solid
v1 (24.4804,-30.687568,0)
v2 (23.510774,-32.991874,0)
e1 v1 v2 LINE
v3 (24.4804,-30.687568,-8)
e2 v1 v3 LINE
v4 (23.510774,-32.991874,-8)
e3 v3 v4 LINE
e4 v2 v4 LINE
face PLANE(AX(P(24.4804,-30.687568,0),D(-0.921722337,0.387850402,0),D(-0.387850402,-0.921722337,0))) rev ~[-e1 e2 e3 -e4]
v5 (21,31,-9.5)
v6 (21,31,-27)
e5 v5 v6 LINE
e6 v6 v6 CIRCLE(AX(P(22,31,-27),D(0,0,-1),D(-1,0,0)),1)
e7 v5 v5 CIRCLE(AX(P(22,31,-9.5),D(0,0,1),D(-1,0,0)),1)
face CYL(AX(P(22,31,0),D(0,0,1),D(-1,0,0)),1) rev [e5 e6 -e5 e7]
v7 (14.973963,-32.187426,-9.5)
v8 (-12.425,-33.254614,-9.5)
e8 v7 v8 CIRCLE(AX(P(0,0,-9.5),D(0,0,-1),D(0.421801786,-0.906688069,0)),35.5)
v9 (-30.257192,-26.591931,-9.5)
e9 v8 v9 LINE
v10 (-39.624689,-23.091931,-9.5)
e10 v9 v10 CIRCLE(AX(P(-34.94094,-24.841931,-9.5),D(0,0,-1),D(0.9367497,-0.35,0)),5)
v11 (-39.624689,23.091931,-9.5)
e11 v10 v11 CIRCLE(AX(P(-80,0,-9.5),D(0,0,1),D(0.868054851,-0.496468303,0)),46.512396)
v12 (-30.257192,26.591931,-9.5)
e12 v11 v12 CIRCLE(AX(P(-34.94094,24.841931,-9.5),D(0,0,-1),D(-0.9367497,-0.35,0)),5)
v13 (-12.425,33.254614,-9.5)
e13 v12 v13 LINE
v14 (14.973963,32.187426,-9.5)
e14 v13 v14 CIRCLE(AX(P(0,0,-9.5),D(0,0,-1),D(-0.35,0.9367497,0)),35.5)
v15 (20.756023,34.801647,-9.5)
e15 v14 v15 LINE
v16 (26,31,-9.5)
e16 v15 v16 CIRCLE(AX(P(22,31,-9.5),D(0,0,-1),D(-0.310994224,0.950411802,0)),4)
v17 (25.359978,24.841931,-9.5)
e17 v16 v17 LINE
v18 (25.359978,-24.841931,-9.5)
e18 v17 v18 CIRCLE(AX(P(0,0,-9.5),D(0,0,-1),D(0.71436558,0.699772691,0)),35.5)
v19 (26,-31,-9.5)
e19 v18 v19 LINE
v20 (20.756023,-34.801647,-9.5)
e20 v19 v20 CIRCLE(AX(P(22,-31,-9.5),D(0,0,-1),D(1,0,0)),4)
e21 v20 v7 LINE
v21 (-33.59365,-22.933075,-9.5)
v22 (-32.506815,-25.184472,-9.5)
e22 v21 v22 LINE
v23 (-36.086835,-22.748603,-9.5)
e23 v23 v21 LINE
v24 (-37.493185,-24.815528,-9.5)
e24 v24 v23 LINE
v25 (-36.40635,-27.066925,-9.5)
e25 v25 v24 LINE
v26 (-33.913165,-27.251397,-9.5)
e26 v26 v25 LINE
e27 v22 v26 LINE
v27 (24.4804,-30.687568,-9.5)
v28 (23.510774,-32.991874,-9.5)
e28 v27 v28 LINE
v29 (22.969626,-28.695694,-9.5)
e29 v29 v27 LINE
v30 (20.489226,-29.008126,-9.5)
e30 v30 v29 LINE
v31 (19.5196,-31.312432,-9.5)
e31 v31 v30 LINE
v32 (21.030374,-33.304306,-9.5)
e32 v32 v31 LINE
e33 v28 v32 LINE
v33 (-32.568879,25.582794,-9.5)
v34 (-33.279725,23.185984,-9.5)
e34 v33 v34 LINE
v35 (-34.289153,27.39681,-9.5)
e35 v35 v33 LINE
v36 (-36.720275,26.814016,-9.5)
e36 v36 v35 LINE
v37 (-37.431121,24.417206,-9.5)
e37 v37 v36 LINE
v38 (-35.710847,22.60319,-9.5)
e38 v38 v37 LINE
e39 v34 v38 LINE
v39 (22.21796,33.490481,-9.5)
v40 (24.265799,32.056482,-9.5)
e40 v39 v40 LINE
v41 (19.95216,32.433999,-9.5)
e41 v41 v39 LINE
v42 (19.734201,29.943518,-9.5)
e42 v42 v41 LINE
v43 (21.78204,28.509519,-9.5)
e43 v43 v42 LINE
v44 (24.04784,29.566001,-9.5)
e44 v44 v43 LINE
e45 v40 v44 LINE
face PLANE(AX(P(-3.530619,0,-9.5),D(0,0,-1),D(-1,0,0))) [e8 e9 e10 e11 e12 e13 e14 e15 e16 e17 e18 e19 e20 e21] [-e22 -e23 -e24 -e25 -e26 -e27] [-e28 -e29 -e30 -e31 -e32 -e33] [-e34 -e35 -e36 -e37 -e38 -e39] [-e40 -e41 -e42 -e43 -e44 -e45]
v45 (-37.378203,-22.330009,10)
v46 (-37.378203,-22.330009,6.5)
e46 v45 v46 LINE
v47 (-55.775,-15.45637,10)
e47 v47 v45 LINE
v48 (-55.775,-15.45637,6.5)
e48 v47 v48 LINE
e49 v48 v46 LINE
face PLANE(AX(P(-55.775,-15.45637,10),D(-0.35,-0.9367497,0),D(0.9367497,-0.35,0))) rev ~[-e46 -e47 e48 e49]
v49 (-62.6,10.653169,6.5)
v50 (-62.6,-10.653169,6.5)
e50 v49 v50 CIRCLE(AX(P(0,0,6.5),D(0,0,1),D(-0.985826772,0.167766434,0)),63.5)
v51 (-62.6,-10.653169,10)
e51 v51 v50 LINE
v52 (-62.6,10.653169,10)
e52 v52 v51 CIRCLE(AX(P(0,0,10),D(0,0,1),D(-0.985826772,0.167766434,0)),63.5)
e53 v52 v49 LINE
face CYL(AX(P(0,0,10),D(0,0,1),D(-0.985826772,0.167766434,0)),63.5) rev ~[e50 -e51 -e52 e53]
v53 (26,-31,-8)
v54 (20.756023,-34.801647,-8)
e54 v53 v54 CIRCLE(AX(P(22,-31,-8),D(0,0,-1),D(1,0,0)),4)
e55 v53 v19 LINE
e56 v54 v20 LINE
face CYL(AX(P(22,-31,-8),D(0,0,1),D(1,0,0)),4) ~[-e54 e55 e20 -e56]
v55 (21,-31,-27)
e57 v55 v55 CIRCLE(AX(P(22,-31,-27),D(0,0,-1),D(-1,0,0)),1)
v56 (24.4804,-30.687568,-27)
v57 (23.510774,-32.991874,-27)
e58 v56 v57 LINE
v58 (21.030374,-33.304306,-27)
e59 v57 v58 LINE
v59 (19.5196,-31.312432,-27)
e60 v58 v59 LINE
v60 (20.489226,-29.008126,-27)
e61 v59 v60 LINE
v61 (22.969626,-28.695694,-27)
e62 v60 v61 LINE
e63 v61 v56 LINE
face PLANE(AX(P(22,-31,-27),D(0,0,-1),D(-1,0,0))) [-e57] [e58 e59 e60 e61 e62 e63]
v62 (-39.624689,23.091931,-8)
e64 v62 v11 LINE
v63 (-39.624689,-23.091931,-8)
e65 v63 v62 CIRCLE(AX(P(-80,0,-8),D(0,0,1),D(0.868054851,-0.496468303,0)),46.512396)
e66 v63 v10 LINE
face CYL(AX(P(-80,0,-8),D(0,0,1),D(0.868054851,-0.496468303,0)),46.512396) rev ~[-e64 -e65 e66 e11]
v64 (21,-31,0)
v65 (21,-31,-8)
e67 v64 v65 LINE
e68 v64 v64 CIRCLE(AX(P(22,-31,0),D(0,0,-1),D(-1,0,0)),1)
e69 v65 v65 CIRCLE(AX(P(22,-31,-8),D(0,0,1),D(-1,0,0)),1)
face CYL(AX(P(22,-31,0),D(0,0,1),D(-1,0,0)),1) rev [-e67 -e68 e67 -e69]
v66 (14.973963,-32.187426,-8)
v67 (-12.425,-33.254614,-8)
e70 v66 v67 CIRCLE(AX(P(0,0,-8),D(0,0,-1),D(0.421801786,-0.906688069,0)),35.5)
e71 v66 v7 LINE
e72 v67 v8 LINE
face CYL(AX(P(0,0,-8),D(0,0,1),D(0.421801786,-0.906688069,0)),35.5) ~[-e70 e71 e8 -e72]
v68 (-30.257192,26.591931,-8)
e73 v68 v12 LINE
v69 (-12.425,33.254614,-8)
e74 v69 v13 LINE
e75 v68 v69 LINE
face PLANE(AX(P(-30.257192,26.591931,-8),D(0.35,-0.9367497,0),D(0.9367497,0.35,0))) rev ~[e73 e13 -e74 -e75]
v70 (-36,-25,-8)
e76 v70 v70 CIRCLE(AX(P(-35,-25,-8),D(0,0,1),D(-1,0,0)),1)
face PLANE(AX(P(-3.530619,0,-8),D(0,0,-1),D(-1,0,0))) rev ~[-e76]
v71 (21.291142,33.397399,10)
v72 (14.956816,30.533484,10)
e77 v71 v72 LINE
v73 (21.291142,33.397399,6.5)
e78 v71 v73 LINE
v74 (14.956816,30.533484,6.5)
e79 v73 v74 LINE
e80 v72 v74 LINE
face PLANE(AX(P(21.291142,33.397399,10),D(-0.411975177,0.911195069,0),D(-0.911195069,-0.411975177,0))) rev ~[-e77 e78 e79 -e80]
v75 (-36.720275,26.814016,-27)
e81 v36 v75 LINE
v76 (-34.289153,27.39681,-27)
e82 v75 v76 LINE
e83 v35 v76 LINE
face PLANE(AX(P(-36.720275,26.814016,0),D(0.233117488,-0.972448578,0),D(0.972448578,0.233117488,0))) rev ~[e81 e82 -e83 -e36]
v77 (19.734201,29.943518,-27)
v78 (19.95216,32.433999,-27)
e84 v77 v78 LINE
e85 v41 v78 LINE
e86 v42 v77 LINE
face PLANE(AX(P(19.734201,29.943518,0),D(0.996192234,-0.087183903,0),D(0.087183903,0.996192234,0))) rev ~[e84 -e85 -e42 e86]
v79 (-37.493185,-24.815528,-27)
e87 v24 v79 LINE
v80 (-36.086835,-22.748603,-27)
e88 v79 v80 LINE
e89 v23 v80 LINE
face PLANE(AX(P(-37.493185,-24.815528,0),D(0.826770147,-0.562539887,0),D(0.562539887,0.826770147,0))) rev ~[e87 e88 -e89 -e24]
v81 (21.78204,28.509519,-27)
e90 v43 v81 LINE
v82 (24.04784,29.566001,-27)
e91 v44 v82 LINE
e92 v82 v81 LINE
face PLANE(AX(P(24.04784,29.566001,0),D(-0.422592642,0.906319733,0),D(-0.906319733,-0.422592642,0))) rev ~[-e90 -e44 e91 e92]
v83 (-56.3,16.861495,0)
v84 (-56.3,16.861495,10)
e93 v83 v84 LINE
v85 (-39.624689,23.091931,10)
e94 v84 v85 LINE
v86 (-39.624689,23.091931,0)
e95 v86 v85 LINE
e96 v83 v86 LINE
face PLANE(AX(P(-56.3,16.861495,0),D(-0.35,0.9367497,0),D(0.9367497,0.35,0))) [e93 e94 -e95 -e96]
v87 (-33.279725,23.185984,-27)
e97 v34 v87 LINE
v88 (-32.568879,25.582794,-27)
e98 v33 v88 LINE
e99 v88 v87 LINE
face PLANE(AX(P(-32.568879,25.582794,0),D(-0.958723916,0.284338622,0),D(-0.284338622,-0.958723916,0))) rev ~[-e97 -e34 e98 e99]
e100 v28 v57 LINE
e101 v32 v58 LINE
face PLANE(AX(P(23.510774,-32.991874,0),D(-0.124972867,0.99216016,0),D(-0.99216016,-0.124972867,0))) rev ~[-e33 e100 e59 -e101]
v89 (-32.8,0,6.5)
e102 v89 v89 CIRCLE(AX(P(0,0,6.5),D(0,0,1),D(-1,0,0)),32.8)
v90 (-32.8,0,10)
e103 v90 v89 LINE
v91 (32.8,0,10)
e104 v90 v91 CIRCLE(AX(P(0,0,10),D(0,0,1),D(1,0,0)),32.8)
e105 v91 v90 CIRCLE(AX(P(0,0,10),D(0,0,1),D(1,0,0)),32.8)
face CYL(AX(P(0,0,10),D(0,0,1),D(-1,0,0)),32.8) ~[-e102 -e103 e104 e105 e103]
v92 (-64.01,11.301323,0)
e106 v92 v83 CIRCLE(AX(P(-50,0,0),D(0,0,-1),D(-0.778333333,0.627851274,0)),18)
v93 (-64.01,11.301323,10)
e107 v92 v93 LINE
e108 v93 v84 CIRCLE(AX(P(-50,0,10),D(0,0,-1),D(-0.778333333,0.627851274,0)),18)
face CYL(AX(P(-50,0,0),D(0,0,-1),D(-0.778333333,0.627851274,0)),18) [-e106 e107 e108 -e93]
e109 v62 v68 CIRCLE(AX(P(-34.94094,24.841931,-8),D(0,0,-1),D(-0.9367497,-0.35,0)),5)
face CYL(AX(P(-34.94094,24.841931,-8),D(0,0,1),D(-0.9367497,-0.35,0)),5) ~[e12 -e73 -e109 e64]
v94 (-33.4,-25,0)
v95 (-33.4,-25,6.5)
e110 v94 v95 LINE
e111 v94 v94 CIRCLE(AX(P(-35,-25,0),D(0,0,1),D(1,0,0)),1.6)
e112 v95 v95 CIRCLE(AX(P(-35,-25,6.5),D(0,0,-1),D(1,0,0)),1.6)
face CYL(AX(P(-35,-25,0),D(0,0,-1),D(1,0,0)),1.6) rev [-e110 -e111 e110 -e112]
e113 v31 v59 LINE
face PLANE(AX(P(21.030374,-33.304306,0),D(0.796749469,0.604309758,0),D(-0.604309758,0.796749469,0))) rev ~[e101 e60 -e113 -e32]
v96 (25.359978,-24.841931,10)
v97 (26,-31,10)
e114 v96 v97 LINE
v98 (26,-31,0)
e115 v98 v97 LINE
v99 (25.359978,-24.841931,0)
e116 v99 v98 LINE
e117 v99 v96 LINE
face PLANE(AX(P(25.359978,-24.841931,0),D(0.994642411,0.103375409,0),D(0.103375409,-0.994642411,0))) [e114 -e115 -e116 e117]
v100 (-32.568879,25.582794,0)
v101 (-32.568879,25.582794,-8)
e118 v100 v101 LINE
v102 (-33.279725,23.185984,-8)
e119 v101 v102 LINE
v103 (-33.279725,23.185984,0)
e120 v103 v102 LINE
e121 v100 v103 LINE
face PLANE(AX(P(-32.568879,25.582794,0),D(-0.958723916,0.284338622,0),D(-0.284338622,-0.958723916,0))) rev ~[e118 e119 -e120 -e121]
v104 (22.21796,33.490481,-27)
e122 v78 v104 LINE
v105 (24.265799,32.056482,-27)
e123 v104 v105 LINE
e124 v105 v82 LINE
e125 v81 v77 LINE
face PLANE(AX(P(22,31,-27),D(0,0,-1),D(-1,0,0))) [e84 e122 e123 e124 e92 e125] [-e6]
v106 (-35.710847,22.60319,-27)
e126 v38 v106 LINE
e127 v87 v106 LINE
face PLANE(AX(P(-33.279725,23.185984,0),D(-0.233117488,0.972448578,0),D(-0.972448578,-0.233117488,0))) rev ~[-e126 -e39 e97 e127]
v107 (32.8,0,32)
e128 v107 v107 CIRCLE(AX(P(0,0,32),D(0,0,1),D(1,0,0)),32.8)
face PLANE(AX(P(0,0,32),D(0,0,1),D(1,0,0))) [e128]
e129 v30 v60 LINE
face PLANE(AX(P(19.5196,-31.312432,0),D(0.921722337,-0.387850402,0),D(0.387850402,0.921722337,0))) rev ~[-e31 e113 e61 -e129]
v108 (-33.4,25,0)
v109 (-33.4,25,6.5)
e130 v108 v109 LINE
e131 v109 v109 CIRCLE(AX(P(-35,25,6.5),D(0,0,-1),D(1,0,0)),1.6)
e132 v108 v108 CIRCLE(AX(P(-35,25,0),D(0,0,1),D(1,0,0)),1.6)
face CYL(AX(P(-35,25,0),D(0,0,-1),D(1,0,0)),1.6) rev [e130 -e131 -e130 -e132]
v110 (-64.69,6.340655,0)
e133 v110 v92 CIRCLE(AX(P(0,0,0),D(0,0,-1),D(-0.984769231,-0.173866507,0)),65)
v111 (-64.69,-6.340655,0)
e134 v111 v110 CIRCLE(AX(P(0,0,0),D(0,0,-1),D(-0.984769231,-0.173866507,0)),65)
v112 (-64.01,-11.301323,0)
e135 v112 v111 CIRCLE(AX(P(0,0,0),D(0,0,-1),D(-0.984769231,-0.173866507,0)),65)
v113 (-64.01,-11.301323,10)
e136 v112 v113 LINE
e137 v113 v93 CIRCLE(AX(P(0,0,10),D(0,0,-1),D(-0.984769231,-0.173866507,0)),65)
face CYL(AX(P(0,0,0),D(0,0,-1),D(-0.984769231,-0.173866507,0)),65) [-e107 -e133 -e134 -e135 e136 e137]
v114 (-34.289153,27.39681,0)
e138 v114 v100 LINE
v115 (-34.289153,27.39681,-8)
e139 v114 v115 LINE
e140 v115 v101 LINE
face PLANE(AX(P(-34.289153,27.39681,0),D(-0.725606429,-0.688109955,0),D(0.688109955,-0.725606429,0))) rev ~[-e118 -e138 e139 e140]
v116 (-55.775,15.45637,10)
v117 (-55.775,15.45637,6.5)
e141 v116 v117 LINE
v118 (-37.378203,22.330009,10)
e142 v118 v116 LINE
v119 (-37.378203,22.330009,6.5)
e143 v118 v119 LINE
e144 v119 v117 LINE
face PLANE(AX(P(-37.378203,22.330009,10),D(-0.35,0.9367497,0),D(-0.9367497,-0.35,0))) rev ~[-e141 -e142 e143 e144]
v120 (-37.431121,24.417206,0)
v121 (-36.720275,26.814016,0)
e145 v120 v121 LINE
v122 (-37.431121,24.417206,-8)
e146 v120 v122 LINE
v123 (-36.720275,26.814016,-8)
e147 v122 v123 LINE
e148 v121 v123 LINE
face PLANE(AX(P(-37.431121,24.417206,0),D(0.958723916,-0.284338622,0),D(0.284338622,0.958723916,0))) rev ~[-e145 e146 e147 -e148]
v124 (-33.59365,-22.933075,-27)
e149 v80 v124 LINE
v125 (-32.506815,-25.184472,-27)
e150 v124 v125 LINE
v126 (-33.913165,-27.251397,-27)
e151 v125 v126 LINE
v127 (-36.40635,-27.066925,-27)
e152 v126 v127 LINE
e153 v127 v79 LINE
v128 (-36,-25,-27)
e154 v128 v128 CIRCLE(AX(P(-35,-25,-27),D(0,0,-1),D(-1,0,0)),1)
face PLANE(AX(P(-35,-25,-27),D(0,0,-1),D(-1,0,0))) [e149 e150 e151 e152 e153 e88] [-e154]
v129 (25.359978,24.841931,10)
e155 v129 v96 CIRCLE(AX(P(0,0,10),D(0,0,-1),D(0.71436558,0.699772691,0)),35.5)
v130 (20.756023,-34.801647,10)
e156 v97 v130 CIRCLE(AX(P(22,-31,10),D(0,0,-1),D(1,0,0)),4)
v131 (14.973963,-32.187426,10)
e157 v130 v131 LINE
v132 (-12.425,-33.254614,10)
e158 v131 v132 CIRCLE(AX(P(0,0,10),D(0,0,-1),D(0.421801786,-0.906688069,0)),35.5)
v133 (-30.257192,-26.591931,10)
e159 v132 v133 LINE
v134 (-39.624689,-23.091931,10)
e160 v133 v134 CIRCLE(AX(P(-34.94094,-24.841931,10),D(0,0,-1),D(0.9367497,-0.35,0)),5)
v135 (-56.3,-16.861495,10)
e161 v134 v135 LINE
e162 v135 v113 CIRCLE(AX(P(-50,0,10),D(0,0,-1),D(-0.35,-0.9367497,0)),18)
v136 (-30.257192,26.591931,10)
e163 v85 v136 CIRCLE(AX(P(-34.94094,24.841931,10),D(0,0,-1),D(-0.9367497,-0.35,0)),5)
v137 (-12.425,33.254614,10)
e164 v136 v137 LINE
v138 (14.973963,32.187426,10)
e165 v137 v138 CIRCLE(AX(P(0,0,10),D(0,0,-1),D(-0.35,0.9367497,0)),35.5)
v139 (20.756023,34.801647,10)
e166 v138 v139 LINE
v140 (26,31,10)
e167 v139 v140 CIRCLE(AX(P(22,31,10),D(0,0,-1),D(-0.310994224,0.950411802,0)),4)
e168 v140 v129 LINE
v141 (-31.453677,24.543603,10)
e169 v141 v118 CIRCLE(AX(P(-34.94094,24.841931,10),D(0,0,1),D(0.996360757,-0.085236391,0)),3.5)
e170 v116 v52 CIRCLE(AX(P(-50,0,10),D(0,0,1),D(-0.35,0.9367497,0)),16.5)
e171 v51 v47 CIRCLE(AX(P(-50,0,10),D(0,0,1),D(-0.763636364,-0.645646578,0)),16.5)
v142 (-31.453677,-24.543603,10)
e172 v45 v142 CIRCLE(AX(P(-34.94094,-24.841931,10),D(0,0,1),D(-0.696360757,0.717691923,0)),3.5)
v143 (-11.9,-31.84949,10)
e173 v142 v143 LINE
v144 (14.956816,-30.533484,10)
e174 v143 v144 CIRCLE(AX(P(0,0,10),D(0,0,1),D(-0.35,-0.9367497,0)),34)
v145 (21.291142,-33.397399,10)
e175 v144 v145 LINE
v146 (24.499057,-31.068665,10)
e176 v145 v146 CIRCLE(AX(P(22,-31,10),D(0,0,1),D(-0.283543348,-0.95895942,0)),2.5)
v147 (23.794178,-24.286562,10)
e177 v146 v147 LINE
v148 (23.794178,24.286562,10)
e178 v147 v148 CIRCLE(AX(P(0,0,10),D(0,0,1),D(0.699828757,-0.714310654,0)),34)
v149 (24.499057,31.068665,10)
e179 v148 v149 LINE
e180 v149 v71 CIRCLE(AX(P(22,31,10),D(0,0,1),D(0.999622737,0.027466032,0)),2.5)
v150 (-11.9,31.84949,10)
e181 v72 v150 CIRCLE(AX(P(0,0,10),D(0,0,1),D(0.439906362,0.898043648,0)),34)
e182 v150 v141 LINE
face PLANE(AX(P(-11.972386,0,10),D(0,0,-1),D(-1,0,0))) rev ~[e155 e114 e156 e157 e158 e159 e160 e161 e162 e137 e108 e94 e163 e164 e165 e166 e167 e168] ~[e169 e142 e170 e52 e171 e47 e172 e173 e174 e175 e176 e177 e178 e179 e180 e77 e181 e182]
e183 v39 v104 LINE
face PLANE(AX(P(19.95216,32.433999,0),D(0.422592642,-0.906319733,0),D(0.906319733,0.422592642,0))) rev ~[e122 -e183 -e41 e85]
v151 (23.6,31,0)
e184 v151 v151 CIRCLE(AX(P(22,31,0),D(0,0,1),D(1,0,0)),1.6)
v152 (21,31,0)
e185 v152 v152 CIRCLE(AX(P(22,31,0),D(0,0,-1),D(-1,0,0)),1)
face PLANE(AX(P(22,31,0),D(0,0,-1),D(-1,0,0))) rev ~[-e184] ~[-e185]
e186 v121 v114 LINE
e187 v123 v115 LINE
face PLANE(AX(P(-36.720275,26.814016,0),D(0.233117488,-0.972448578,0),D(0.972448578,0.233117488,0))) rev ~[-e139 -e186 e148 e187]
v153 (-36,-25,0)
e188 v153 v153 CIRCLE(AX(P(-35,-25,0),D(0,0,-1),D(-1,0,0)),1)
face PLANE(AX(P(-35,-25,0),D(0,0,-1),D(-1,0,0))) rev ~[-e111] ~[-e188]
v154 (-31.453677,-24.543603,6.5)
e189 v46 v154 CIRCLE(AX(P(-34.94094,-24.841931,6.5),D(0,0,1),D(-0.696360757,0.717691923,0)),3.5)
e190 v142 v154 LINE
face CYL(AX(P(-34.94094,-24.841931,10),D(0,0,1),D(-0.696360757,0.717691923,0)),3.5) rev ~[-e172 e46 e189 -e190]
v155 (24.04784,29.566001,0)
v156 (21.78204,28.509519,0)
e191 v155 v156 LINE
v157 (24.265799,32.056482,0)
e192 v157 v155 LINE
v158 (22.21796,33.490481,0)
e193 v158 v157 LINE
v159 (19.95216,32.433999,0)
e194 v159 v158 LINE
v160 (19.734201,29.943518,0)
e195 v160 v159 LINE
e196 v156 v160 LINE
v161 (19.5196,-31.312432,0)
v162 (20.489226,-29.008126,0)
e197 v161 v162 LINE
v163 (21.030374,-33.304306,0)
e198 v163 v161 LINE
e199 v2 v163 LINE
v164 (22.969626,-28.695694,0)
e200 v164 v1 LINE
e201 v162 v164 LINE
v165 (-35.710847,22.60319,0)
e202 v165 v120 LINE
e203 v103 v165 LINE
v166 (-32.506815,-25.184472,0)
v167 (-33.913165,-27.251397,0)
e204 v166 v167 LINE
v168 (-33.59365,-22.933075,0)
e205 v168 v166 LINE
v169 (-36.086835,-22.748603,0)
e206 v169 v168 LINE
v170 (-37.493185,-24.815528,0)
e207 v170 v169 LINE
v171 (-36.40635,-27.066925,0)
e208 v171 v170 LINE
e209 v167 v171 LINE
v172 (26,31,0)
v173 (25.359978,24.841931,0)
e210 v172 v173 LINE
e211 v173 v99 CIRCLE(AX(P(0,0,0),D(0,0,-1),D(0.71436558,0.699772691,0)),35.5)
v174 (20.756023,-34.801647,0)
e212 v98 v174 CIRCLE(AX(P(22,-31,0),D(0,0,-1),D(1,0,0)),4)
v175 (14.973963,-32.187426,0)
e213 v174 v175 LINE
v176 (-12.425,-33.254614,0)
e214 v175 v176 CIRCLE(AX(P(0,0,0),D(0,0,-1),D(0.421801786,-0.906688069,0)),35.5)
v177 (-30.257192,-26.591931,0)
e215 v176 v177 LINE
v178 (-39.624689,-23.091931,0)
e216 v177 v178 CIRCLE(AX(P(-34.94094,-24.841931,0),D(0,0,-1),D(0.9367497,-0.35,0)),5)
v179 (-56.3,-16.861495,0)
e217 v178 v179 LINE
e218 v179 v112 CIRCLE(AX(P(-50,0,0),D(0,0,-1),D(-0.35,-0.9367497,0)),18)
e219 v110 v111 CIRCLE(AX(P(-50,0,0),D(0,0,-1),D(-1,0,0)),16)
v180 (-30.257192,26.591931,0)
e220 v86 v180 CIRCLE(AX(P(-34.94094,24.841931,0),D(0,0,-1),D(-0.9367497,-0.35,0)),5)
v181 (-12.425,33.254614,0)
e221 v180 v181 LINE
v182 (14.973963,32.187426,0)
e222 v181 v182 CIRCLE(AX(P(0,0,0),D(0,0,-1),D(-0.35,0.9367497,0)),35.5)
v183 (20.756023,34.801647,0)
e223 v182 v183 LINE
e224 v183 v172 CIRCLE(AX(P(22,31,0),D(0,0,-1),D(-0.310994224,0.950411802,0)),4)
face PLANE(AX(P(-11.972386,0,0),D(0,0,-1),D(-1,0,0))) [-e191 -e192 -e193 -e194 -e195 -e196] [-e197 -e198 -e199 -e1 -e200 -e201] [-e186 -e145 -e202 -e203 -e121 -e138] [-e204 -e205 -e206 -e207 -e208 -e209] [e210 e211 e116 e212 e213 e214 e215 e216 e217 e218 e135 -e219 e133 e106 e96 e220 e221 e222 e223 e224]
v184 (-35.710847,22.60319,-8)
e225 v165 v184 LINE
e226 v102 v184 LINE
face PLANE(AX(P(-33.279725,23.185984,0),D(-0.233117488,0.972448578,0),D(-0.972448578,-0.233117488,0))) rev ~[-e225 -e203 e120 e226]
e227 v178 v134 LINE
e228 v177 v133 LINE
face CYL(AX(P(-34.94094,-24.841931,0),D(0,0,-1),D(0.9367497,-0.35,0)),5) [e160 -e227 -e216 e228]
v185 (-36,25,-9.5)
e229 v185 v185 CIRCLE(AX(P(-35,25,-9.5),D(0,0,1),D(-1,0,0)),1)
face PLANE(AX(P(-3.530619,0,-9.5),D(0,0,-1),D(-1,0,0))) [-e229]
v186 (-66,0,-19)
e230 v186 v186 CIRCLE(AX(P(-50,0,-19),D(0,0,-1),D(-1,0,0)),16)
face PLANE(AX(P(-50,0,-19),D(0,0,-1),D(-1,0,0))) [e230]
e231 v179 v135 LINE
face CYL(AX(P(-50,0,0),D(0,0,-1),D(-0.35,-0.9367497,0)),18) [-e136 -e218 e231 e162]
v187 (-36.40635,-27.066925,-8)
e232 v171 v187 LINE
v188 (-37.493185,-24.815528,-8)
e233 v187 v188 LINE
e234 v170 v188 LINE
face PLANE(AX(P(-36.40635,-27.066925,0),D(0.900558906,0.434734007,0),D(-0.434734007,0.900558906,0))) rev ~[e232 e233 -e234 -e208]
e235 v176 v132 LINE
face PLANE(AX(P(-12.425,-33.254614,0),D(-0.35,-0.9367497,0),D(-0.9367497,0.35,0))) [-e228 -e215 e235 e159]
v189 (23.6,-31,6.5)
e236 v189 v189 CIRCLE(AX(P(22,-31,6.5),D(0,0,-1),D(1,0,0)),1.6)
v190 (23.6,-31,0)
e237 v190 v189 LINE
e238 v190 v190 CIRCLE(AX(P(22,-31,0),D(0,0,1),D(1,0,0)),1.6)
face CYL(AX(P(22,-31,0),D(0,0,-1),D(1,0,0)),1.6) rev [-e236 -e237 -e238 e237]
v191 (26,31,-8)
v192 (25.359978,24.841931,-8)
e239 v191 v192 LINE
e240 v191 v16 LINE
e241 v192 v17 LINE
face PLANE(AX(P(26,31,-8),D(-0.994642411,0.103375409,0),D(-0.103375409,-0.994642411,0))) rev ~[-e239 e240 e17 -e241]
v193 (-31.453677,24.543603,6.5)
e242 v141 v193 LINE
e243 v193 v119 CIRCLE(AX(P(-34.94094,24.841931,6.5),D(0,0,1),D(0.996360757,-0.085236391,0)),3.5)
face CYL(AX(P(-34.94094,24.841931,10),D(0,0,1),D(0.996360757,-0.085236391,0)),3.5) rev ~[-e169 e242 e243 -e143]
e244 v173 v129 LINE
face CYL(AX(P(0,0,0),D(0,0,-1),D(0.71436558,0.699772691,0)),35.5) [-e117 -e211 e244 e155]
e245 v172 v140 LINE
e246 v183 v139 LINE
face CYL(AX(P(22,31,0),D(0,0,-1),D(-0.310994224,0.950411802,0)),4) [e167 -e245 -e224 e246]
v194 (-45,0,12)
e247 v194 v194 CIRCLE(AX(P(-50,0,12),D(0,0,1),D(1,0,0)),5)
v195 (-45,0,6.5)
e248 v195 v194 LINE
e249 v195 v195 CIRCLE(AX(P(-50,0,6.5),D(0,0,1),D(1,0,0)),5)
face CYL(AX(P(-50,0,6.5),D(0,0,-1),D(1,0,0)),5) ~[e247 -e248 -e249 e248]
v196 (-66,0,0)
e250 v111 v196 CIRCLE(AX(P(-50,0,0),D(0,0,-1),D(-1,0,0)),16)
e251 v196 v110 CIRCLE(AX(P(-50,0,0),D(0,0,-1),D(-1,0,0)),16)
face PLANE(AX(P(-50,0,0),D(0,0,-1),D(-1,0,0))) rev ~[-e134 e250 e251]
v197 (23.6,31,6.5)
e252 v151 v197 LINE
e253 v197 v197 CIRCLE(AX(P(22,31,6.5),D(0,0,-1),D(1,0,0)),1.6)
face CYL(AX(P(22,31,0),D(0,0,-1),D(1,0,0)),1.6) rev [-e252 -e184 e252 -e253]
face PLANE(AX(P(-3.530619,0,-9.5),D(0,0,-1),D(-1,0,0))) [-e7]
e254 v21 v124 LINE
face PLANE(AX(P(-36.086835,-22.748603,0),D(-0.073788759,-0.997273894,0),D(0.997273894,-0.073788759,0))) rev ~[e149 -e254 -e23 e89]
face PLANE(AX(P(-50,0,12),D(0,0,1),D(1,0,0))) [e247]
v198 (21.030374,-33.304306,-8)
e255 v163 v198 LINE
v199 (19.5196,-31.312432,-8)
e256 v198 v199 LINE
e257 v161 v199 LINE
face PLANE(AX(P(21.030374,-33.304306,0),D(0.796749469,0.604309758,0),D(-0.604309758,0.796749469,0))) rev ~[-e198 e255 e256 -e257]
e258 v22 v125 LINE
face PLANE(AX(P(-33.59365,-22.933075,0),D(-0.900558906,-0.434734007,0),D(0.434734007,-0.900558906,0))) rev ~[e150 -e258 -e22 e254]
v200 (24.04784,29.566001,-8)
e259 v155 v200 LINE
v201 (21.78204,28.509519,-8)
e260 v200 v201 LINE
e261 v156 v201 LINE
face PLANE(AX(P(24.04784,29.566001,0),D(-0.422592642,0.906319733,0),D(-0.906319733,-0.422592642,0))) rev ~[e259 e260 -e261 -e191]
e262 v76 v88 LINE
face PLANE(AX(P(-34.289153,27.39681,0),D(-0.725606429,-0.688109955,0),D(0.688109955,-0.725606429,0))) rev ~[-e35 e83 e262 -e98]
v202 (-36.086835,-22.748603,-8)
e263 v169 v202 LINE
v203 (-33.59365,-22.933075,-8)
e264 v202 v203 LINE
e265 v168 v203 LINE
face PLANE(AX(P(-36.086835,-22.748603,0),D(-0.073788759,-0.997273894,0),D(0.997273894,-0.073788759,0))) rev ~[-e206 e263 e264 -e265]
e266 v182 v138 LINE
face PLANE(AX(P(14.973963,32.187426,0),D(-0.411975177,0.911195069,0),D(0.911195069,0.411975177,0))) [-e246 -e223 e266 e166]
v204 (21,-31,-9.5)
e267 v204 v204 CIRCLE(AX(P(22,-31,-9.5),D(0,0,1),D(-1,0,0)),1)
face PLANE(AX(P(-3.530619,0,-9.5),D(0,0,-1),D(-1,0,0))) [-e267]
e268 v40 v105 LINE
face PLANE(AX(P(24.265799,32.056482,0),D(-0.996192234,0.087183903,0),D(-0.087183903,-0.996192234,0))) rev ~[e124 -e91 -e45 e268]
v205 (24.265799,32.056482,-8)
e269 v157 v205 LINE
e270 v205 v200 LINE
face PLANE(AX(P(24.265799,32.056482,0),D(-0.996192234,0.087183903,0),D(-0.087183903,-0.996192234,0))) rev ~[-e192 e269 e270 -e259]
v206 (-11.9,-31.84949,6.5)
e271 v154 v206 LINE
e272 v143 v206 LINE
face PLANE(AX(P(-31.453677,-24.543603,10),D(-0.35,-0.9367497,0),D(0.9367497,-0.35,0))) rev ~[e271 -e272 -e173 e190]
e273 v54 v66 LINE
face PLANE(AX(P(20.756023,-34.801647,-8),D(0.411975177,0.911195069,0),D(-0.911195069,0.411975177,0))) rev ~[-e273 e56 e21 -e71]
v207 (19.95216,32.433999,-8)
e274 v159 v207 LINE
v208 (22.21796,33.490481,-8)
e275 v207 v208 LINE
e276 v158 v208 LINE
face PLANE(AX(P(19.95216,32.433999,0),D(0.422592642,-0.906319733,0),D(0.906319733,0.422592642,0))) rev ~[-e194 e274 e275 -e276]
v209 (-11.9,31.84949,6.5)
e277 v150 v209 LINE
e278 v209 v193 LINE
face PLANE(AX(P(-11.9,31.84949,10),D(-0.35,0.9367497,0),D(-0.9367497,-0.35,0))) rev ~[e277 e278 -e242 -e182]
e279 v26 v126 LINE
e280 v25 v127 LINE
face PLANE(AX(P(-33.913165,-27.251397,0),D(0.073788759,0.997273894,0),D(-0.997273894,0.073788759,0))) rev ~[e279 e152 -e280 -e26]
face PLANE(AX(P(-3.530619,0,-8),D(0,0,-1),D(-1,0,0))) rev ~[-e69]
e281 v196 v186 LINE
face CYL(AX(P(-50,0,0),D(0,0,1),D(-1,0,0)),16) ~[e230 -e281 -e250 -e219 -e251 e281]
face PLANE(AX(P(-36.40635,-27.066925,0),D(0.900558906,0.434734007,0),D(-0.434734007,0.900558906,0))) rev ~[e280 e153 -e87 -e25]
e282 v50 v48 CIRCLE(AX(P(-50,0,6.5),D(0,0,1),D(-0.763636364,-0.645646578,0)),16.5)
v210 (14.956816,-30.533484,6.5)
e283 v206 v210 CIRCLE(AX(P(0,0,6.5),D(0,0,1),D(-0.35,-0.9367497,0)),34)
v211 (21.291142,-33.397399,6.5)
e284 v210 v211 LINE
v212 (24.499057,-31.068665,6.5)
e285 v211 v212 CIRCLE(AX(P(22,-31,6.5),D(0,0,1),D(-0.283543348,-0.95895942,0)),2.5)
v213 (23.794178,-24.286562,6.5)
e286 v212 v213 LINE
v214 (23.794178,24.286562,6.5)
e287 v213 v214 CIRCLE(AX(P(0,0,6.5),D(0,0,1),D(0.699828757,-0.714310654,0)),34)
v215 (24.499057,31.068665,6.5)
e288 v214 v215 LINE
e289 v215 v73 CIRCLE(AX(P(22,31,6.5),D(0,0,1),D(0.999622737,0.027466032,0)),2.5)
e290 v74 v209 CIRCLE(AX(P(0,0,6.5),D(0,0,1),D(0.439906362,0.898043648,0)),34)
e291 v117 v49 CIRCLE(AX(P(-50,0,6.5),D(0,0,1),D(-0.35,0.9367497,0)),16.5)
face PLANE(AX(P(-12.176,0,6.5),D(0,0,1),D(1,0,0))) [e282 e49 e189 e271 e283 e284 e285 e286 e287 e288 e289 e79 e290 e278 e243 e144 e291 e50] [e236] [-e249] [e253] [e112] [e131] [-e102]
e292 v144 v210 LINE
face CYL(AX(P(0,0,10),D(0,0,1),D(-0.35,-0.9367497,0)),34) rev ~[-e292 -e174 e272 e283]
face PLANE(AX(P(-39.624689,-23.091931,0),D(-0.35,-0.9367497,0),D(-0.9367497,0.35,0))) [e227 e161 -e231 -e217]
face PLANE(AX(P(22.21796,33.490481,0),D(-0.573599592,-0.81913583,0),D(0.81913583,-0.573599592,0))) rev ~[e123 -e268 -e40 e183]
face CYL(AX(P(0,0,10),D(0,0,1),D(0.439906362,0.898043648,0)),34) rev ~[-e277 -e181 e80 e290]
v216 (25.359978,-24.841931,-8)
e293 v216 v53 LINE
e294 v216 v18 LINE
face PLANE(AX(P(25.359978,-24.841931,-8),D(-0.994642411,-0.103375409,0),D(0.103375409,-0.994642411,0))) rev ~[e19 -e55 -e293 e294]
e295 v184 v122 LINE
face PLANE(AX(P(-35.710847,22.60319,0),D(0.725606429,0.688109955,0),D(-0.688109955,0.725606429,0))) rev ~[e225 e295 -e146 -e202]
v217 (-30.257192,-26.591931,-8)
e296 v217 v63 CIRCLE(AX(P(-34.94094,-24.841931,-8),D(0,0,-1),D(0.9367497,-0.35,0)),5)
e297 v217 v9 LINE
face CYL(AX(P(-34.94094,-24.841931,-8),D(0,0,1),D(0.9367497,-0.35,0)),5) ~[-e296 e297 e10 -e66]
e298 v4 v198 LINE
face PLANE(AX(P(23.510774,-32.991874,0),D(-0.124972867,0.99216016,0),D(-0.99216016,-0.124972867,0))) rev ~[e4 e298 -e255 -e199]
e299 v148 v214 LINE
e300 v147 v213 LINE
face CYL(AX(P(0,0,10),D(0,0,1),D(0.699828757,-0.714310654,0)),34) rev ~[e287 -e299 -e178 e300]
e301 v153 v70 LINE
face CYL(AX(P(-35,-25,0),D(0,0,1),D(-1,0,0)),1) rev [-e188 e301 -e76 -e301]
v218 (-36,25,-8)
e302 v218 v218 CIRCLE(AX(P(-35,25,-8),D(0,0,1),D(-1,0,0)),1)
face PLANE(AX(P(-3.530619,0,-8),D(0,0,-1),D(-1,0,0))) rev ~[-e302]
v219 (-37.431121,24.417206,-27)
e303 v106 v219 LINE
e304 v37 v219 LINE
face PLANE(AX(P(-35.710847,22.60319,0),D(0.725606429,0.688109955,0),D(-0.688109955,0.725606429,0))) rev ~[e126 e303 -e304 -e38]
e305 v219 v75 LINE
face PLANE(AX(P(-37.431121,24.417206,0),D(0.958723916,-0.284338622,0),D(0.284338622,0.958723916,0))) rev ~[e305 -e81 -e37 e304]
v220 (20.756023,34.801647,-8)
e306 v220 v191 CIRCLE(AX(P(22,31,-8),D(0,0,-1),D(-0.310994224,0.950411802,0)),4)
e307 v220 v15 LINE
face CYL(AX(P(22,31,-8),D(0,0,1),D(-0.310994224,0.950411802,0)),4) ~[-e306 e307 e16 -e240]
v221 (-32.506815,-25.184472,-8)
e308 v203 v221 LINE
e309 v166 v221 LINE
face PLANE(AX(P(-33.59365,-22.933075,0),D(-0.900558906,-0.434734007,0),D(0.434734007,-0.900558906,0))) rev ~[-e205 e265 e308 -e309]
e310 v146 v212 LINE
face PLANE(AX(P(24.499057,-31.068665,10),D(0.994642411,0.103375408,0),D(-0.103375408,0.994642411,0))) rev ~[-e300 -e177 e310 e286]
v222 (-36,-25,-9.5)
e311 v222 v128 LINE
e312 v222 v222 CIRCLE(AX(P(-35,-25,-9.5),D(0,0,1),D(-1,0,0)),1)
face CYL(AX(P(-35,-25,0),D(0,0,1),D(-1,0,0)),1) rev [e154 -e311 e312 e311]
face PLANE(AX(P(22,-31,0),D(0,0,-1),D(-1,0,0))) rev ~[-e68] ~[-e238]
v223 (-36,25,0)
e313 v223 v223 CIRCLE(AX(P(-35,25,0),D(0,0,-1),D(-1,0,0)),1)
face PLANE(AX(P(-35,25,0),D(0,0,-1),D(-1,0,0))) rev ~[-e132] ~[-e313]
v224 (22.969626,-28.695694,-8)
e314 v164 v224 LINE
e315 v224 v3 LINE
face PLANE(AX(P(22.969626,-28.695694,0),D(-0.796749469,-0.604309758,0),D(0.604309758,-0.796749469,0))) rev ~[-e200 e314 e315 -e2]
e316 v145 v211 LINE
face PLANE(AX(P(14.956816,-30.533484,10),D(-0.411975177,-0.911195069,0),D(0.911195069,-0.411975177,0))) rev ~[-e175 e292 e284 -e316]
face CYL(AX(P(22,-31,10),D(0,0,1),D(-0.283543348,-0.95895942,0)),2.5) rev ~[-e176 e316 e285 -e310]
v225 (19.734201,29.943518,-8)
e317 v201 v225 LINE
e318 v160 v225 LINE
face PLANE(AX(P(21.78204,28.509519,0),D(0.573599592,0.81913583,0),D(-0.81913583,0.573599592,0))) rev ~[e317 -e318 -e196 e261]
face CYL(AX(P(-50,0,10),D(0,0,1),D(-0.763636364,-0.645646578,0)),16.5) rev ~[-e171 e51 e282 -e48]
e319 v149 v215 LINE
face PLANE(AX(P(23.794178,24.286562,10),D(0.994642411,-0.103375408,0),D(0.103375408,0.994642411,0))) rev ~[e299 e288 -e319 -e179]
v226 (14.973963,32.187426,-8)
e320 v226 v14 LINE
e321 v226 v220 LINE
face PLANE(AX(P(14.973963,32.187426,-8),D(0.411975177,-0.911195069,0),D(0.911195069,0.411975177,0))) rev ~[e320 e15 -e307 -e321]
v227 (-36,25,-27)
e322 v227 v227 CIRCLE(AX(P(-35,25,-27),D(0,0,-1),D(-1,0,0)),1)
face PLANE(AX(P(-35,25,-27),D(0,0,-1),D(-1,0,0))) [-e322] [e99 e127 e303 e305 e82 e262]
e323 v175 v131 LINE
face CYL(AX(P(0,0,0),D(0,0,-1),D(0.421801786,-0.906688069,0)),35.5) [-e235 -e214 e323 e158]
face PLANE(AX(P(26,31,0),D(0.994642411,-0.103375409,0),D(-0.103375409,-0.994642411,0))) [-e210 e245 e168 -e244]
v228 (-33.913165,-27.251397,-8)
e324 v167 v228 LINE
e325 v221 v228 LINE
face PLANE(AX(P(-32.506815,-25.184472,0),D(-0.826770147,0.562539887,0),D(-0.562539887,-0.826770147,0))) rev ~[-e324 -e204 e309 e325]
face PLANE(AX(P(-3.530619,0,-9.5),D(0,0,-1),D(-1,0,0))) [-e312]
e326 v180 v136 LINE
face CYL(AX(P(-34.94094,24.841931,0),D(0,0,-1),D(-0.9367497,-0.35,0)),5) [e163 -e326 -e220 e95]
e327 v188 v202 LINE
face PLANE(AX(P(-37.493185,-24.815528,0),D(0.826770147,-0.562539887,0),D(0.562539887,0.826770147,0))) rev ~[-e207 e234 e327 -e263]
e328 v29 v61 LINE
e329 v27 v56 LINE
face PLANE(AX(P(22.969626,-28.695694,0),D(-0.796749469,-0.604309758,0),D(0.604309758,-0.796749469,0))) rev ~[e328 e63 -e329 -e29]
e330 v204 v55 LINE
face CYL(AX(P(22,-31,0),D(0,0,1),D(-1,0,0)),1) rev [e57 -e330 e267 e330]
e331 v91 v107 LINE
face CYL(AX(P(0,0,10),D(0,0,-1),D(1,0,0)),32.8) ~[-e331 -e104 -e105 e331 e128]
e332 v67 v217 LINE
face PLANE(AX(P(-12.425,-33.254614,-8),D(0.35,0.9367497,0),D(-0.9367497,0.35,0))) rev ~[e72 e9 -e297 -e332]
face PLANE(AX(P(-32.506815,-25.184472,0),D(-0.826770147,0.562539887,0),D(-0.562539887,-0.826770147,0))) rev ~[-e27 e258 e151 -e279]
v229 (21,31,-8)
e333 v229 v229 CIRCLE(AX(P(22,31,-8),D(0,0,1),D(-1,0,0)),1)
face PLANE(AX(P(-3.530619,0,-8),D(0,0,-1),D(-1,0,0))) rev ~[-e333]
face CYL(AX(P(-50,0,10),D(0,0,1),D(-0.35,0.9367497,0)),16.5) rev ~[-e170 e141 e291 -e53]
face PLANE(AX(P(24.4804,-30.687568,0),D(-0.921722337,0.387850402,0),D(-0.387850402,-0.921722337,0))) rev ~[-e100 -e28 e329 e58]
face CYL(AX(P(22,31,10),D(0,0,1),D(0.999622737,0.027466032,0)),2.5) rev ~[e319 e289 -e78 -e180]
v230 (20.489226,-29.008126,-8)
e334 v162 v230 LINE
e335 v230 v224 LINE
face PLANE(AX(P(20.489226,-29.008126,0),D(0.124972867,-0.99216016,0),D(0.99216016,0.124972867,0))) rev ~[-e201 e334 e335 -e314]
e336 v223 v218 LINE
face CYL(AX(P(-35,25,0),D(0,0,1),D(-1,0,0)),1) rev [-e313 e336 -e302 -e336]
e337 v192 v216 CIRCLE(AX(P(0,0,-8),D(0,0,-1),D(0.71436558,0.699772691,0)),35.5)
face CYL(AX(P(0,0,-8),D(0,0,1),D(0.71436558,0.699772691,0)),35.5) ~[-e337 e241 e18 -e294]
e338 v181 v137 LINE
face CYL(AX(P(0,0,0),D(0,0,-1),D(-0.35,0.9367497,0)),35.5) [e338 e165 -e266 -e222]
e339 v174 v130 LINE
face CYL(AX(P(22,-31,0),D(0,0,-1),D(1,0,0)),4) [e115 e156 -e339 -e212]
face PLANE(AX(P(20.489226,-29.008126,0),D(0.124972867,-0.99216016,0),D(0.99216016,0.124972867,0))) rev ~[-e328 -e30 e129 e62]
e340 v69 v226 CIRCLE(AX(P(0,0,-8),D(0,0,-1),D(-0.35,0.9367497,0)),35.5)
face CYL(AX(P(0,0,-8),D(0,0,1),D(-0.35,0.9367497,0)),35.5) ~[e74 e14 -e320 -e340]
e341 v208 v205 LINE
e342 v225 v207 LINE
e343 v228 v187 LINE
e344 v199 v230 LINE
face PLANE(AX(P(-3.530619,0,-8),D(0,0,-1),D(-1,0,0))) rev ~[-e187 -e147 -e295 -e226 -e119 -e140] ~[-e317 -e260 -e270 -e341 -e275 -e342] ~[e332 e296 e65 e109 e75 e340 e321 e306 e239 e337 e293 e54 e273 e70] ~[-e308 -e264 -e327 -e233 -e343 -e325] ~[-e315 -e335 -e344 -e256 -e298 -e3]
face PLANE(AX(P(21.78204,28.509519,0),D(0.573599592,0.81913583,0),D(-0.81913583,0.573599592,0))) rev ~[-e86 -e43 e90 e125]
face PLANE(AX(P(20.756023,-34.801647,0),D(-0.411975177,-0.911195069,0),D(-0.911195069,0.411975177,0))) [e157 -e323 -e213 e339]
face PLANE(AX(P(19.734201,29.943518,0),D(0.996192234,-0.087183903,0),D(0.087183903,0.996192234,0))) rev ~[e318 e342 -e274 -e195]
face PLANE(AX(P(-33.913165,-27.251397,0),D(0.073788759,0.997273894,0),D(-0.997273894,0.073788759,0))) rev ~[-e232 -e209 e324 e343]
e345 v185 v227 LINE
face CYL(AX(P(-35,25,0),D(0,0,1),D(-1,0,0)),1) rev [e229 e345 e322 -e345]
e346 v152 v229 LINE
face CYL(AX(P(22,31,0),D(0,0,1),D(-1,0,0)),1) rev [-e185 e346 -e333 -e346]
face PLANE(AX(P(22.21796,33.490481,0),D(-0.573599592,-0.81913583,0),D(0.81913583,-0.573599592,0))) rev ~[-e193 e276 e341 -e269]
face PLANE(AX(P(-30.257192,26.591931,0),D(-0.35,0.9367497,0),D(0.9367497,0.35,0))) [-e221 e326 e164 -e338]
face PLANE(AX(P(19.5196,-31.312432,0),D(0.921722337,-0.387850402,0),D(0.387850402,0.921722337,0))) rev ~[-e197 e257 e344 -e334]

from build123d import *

# Parameters (mm, degrees)
ESQUISSE1_R             = 1.6
BOSS_EXTRU_1_DEPTH      = 10
ESQUISSE2_R             = 32.8
BOSS_EXTRU_2_DEPTH      = 22
ENL_V_MAT_EXTRU_1_DEPTH = 3.5
BOSS_EXTRU_3_REACH      = 12
ESQUISSE4_R             = 32.8
ESQUISSE5_R             = 16
BOSS_EXTRU_4_DEPTH      = 19
ESQUISSE6_R             = 1
BOSS_EXTRU_5_DEPTH      = 27
BOSS_EXTRU_6_DEPTH      = 1.5
ESQUISSE8_R             = 5
BOSS_EXTRU_7_DEPTH      = 5.5


with BuildPart() as part:
    # Esquisse1 → Boss.-Extru.1 (new body)
    with BuildSketch(Plane.XY):
        with BuildLine():
            ThreePointArc((-56.3, -16.861494596), (-60.528670487, -14.599558136), (-64.01, -11.301322931))
            ThreePointArc((-64.01, -11.301322931), (-65, 0), (-64.01, 11.301322931))
            ThreePointArc((-64.01, 11.301322931), (-60.528670487, 14.599558136), (-56.3, 16.861494596))
            Line((-56.3, 16.861494596), (-39.624688626, 23.091930519))
            ThreePointArc((-39.624688626, 23.091930519), (-36.690940127, 29.525679018), (-30.257191628, 26.591930519))
            Line((-30.257191628, 26.591930519), (-12.425, 33.254614341))
            ThreePointArc((-12.425, 33.254614341), (1.381675102, 35.473102119), (14.973963383, 32.187426436))
            Line((14.973963383, 32.187426436), (20.756023105, 34.801647207))
            ThreePointArc((20.756023105, 34.801647207), (24.347774736, 34.238511045), (26, 31))
            Line((26, 31), (25.359978077, 24.841930519))
            ThreePointArc((25.359978077, 24.841930519), (35.5, 0), (25.359978077, -24.841930519))
            Line((25.359978077, -24.841930519), (26, -31))
            ThreePointArc((26, -31), (24.347774736, -34.238511045), (20.756023105, -34.801647207))
            Line((20.756023105, -34.801647207), (14.973963383, -32.187426436))
            ThreePointArc((14.973963383, -32.187426436), (1.381675102, -35.473102119), (-12.425, -33.254614341))
            Line((-12.425, -33.254614341), (-30.257191628, -26.591930519))
            ThreePointArc((-30.257191628, -26.591930519), (-36.690940127, -29.525679018), (-39.624688626, -23.091930519))
            Line((-39.624688626, -23.091930519), (-56.3, -16.861494596))
        make_face()
        with Locations((-35, -25)):
            Circle(ESQUISSE1_R, mode=Mode.SUBTRACT)
        with Locations((22, 31)):
            Circle(ESQUISSE1_R, mode=Mode.SUBTRACT)
        with Locations((-35, 25)):
            Circle(ESQUISSE1_R, mode=Mode.SUBTRACT)
        with Locations((22, -31)):
            Circle(ESQUISSE1_R, mode=Mode.SUBTRACT)
    extrude(amount=BOSS_EXTRU_1_DEPTH)

    # Esquisse2 → Boss.-Extru.2 (add)
    with BuildSketch(Plane.XY.offset(10)):
        Circle(ESQUISSE2_R)
    extrude(amount=BOSS_EXTRU_2_DEPTH)

    # Esquisse3 → Enlèv. mat.-Extru.1 (cut)
    with BuildSketch(Plane.XY.offset(10)):
        with BuildLine():
            Line((-55.775, -15.456370046), (-37.378202776, -22.330008789))
            ThreePointArc((-37.378202776, -22.330008789), (-36.165940127, -28.120554469), (-31.453677478, -24.543603151))
            Line((-31.453677478, -24.543603151), (-11.9, -31.849489792))
            ThreePointArc((-11.9, -31.849489792), (1.664031028, -33.959255009), (14.956816294, -30.533484019))
            Line((14.956816294, -30.533484019), (21.291141631, -33.397398551))
            ThreePointArc((21.291141631, -33.397398551), (23.468656713, -33.023128137), (24.499056843, -31.06866508))
            Line((24.499056843, -31.06866508), (23.79417774, -24.286562245))
            ThreePointArc((23.79417774, -24.286562245), (34, 0), (23.79417774, 24.286562245))
            Line((23.79417774, 24.286562245), (24.499056843, 31.06866508))
            ThreePointArc((24.499056843, 31.06866508), (23.468656713, 33.023128137), (21.291141631, 33.397398551))
            Line((21.291141631, 33.397398551), (14.956816294, 30.533484019))
            ThreePointArc((14.956816294, 30.533484019), (1.664031028, 33.959255009), (-11.9, 31.849489792))
            Line((-11.9, 31.849489792), (-31.453677478, 24.543603151))
            ThreePointArc((-31.453677478, 24.543603151), (-36.165940127, 28.120554469), (-37.378202776, 22.330008789))
            Line((-37.378202776, 22.330008789), (-55.775, 15.456370046))
            ThreePointArc((-55.775, 15.456370046), (-59.496201473, 13.493411636), (-62.6, 10.653168543))
            ThreePointArc((-62.6, 10.653168543), (-63.5, 0), (-62.6, -10.653168543))
            ThreePointArc((-62.6, -10.653168543), (-59.496201473, -13.493411636), (-55.775, -15.456370046))
        make_face()
    extrude(amount=-ENL_V_MAT_EXTRU_1_DEPTH, mode=Mode.SUBTRACT)

    # Esquisse4 → Boss.-Extru.3 (add, up to next)
    with BuildSketch(Plane(origin=(0, 0, 10), x_dir=(-1, 0, 0), z_dir=(0, 0, -1)), mode=Mode.PRIVATE) as boss_extru_3_sk1:
        Circle(ESQUISSE4_R)
    boss_extru_3_tool1 = extrude(boss_extru_3_sk1.sketch, amount=BOSS_EXTRU_3_REACH, mode=Mode.PRIVATE) - part.part
    add(boss_extru_3_tool1.solids().sort_by_distance((0, 0, 10))[0])

    # Esquisse5 → Boss.-Extru.4 (add)
    with BuildSketch(Plane(origin=(0, 0, 0), x_dir=(-1, 0, 0), z_dir=(0, 0, -1))):
        with Locations((50, 0)):
            Circle(ESQUISSE5_R)
    extrude(amount=BOSS_EXTRU_4_DEPTH)

    # Esquisse6 → Boss.-Extru.5 (add)
    with BuildSketch(Plane(origin=(0, 0, 0), x_dir=(-1, 0, 0), z_dir=(0, 0, -1))):
        Polygon((-20.489225606, -29.008126327), (-22.969626005, -28.695694159), (-24.480400399, -30.687567832), (-23.510774394, -32.991873673), (-21.030373995, -33.304305841), (-19.519599601, -31.312432168), align=None)
        with Locations((-22, -31)):
            Circle(ESQUISSE6_R, mode=Mode.SUBTRACT)
        Polygon((36.086835018, -22.748602735), (33.593650283, -22.933074633), (32.506815266, -25.184471898), (33.913164982, -27.251397265), (36.406349717, -27.066925367), (37.493184734, -24.815528102), align=None)
        with Locations((35, -25)):
            Circle(ESQUISSE6_R, mode=Mode.SUBTRACT)
        Polygon((36.720274889, 26.814016072), (34.289153443, 27.396809791), (32.568878555, 25.582793719), (33.279725111, 23.185983928), (35.710846557, 22.603190209), (37.431121445, 24.417206281), align=None)
        with Locations((35, 25)):
            Circle(ESQUISSE6_R, mode=Mode.SUBTRACT)
        Polygon((-19.952160425, 32.43399898), (-22.217959758, 33.490480585), (-24.265799333, 32.056481605), (-24.047839575, 29.56600102), (-21.782040242, 28.509519415), (-19.734200667, 29.943518395), align=None)
        with Locations((-22, 31)):
            Circle(ESQUISSE6_R, mode=Mode.SUBTRACT)
    extrude(amount=BOSS_EXTRU_5_DEPTH)

    # Esquisse7 → Boss.-Extru.6 (add)
    with BuildSketch(Plane(origin=(0, 0, -8), x_dir=(-1, 0, 0), z_dir=(0, 0, -1))):
        with BuildLine():
            Line((30.257191628, 26.591930519), (12.425, 33.254614341))
            ThreePointArc((12.425, 33.254614341), (-1.381675102, 35.473102119), (-14.973963383, 32.187426436))
            Line((-14.973963383, 32.187426436), (-20.756023105, 34.801647207))
            ThreePointArc((-20.756023105, 34.801647207), (-24.347774736, 34.238511045), (-26, 31))
            Line((-26, 31), (-25.359978077, 24.841930519))
            ThreePointArc((-25.359978077, 24.841930519), (-35.5, 0), (-25.359978077, -24.841930519))
            Line((-25.359978077, -24.841930519), (-26, -31))
            ThreePointArc((-26, -31), (-24.347774736, -34.238511045), (-20.756023105, -34.801647207))
            Line((-20.756023105, -34.801647207), (-14.973963383, -32.187426436))
            ThreePointArc((-14.973963383, -32.187426436), (-1.381675102, -35.473102119), (12.425, -33.254614341))
            Line((12.425, -33.254614341), (30.257191628, -26.591930519))
            ThreePointArc((30.257191628, -26.591930519), (36.690940127, -29.525679018), (39.624688626, -23.091930519))
            ThreePointArc((39.624688626, -23.091930519), (33.487603548, 0), (39.624688626, 23.091930519))
            ThreePointArc((39.624688626, 23.091930519), (36.690940127, 29.525679018), (30.257191628, 26.591930519))
        make_face()
    extrude(amount=BOSS_EXTRU_6_DEPTH)

    # Esquisse8 → Boss.-Extru.7 (add)
    with BuildSketch(Plane.XY.offset(6.5)):
        with Locations((-50, 0)):
            Circle(ESQUISSE8_R)
    extrude(amount=BOSS_EXTRU_7_DEPTH)


solid = part.part
